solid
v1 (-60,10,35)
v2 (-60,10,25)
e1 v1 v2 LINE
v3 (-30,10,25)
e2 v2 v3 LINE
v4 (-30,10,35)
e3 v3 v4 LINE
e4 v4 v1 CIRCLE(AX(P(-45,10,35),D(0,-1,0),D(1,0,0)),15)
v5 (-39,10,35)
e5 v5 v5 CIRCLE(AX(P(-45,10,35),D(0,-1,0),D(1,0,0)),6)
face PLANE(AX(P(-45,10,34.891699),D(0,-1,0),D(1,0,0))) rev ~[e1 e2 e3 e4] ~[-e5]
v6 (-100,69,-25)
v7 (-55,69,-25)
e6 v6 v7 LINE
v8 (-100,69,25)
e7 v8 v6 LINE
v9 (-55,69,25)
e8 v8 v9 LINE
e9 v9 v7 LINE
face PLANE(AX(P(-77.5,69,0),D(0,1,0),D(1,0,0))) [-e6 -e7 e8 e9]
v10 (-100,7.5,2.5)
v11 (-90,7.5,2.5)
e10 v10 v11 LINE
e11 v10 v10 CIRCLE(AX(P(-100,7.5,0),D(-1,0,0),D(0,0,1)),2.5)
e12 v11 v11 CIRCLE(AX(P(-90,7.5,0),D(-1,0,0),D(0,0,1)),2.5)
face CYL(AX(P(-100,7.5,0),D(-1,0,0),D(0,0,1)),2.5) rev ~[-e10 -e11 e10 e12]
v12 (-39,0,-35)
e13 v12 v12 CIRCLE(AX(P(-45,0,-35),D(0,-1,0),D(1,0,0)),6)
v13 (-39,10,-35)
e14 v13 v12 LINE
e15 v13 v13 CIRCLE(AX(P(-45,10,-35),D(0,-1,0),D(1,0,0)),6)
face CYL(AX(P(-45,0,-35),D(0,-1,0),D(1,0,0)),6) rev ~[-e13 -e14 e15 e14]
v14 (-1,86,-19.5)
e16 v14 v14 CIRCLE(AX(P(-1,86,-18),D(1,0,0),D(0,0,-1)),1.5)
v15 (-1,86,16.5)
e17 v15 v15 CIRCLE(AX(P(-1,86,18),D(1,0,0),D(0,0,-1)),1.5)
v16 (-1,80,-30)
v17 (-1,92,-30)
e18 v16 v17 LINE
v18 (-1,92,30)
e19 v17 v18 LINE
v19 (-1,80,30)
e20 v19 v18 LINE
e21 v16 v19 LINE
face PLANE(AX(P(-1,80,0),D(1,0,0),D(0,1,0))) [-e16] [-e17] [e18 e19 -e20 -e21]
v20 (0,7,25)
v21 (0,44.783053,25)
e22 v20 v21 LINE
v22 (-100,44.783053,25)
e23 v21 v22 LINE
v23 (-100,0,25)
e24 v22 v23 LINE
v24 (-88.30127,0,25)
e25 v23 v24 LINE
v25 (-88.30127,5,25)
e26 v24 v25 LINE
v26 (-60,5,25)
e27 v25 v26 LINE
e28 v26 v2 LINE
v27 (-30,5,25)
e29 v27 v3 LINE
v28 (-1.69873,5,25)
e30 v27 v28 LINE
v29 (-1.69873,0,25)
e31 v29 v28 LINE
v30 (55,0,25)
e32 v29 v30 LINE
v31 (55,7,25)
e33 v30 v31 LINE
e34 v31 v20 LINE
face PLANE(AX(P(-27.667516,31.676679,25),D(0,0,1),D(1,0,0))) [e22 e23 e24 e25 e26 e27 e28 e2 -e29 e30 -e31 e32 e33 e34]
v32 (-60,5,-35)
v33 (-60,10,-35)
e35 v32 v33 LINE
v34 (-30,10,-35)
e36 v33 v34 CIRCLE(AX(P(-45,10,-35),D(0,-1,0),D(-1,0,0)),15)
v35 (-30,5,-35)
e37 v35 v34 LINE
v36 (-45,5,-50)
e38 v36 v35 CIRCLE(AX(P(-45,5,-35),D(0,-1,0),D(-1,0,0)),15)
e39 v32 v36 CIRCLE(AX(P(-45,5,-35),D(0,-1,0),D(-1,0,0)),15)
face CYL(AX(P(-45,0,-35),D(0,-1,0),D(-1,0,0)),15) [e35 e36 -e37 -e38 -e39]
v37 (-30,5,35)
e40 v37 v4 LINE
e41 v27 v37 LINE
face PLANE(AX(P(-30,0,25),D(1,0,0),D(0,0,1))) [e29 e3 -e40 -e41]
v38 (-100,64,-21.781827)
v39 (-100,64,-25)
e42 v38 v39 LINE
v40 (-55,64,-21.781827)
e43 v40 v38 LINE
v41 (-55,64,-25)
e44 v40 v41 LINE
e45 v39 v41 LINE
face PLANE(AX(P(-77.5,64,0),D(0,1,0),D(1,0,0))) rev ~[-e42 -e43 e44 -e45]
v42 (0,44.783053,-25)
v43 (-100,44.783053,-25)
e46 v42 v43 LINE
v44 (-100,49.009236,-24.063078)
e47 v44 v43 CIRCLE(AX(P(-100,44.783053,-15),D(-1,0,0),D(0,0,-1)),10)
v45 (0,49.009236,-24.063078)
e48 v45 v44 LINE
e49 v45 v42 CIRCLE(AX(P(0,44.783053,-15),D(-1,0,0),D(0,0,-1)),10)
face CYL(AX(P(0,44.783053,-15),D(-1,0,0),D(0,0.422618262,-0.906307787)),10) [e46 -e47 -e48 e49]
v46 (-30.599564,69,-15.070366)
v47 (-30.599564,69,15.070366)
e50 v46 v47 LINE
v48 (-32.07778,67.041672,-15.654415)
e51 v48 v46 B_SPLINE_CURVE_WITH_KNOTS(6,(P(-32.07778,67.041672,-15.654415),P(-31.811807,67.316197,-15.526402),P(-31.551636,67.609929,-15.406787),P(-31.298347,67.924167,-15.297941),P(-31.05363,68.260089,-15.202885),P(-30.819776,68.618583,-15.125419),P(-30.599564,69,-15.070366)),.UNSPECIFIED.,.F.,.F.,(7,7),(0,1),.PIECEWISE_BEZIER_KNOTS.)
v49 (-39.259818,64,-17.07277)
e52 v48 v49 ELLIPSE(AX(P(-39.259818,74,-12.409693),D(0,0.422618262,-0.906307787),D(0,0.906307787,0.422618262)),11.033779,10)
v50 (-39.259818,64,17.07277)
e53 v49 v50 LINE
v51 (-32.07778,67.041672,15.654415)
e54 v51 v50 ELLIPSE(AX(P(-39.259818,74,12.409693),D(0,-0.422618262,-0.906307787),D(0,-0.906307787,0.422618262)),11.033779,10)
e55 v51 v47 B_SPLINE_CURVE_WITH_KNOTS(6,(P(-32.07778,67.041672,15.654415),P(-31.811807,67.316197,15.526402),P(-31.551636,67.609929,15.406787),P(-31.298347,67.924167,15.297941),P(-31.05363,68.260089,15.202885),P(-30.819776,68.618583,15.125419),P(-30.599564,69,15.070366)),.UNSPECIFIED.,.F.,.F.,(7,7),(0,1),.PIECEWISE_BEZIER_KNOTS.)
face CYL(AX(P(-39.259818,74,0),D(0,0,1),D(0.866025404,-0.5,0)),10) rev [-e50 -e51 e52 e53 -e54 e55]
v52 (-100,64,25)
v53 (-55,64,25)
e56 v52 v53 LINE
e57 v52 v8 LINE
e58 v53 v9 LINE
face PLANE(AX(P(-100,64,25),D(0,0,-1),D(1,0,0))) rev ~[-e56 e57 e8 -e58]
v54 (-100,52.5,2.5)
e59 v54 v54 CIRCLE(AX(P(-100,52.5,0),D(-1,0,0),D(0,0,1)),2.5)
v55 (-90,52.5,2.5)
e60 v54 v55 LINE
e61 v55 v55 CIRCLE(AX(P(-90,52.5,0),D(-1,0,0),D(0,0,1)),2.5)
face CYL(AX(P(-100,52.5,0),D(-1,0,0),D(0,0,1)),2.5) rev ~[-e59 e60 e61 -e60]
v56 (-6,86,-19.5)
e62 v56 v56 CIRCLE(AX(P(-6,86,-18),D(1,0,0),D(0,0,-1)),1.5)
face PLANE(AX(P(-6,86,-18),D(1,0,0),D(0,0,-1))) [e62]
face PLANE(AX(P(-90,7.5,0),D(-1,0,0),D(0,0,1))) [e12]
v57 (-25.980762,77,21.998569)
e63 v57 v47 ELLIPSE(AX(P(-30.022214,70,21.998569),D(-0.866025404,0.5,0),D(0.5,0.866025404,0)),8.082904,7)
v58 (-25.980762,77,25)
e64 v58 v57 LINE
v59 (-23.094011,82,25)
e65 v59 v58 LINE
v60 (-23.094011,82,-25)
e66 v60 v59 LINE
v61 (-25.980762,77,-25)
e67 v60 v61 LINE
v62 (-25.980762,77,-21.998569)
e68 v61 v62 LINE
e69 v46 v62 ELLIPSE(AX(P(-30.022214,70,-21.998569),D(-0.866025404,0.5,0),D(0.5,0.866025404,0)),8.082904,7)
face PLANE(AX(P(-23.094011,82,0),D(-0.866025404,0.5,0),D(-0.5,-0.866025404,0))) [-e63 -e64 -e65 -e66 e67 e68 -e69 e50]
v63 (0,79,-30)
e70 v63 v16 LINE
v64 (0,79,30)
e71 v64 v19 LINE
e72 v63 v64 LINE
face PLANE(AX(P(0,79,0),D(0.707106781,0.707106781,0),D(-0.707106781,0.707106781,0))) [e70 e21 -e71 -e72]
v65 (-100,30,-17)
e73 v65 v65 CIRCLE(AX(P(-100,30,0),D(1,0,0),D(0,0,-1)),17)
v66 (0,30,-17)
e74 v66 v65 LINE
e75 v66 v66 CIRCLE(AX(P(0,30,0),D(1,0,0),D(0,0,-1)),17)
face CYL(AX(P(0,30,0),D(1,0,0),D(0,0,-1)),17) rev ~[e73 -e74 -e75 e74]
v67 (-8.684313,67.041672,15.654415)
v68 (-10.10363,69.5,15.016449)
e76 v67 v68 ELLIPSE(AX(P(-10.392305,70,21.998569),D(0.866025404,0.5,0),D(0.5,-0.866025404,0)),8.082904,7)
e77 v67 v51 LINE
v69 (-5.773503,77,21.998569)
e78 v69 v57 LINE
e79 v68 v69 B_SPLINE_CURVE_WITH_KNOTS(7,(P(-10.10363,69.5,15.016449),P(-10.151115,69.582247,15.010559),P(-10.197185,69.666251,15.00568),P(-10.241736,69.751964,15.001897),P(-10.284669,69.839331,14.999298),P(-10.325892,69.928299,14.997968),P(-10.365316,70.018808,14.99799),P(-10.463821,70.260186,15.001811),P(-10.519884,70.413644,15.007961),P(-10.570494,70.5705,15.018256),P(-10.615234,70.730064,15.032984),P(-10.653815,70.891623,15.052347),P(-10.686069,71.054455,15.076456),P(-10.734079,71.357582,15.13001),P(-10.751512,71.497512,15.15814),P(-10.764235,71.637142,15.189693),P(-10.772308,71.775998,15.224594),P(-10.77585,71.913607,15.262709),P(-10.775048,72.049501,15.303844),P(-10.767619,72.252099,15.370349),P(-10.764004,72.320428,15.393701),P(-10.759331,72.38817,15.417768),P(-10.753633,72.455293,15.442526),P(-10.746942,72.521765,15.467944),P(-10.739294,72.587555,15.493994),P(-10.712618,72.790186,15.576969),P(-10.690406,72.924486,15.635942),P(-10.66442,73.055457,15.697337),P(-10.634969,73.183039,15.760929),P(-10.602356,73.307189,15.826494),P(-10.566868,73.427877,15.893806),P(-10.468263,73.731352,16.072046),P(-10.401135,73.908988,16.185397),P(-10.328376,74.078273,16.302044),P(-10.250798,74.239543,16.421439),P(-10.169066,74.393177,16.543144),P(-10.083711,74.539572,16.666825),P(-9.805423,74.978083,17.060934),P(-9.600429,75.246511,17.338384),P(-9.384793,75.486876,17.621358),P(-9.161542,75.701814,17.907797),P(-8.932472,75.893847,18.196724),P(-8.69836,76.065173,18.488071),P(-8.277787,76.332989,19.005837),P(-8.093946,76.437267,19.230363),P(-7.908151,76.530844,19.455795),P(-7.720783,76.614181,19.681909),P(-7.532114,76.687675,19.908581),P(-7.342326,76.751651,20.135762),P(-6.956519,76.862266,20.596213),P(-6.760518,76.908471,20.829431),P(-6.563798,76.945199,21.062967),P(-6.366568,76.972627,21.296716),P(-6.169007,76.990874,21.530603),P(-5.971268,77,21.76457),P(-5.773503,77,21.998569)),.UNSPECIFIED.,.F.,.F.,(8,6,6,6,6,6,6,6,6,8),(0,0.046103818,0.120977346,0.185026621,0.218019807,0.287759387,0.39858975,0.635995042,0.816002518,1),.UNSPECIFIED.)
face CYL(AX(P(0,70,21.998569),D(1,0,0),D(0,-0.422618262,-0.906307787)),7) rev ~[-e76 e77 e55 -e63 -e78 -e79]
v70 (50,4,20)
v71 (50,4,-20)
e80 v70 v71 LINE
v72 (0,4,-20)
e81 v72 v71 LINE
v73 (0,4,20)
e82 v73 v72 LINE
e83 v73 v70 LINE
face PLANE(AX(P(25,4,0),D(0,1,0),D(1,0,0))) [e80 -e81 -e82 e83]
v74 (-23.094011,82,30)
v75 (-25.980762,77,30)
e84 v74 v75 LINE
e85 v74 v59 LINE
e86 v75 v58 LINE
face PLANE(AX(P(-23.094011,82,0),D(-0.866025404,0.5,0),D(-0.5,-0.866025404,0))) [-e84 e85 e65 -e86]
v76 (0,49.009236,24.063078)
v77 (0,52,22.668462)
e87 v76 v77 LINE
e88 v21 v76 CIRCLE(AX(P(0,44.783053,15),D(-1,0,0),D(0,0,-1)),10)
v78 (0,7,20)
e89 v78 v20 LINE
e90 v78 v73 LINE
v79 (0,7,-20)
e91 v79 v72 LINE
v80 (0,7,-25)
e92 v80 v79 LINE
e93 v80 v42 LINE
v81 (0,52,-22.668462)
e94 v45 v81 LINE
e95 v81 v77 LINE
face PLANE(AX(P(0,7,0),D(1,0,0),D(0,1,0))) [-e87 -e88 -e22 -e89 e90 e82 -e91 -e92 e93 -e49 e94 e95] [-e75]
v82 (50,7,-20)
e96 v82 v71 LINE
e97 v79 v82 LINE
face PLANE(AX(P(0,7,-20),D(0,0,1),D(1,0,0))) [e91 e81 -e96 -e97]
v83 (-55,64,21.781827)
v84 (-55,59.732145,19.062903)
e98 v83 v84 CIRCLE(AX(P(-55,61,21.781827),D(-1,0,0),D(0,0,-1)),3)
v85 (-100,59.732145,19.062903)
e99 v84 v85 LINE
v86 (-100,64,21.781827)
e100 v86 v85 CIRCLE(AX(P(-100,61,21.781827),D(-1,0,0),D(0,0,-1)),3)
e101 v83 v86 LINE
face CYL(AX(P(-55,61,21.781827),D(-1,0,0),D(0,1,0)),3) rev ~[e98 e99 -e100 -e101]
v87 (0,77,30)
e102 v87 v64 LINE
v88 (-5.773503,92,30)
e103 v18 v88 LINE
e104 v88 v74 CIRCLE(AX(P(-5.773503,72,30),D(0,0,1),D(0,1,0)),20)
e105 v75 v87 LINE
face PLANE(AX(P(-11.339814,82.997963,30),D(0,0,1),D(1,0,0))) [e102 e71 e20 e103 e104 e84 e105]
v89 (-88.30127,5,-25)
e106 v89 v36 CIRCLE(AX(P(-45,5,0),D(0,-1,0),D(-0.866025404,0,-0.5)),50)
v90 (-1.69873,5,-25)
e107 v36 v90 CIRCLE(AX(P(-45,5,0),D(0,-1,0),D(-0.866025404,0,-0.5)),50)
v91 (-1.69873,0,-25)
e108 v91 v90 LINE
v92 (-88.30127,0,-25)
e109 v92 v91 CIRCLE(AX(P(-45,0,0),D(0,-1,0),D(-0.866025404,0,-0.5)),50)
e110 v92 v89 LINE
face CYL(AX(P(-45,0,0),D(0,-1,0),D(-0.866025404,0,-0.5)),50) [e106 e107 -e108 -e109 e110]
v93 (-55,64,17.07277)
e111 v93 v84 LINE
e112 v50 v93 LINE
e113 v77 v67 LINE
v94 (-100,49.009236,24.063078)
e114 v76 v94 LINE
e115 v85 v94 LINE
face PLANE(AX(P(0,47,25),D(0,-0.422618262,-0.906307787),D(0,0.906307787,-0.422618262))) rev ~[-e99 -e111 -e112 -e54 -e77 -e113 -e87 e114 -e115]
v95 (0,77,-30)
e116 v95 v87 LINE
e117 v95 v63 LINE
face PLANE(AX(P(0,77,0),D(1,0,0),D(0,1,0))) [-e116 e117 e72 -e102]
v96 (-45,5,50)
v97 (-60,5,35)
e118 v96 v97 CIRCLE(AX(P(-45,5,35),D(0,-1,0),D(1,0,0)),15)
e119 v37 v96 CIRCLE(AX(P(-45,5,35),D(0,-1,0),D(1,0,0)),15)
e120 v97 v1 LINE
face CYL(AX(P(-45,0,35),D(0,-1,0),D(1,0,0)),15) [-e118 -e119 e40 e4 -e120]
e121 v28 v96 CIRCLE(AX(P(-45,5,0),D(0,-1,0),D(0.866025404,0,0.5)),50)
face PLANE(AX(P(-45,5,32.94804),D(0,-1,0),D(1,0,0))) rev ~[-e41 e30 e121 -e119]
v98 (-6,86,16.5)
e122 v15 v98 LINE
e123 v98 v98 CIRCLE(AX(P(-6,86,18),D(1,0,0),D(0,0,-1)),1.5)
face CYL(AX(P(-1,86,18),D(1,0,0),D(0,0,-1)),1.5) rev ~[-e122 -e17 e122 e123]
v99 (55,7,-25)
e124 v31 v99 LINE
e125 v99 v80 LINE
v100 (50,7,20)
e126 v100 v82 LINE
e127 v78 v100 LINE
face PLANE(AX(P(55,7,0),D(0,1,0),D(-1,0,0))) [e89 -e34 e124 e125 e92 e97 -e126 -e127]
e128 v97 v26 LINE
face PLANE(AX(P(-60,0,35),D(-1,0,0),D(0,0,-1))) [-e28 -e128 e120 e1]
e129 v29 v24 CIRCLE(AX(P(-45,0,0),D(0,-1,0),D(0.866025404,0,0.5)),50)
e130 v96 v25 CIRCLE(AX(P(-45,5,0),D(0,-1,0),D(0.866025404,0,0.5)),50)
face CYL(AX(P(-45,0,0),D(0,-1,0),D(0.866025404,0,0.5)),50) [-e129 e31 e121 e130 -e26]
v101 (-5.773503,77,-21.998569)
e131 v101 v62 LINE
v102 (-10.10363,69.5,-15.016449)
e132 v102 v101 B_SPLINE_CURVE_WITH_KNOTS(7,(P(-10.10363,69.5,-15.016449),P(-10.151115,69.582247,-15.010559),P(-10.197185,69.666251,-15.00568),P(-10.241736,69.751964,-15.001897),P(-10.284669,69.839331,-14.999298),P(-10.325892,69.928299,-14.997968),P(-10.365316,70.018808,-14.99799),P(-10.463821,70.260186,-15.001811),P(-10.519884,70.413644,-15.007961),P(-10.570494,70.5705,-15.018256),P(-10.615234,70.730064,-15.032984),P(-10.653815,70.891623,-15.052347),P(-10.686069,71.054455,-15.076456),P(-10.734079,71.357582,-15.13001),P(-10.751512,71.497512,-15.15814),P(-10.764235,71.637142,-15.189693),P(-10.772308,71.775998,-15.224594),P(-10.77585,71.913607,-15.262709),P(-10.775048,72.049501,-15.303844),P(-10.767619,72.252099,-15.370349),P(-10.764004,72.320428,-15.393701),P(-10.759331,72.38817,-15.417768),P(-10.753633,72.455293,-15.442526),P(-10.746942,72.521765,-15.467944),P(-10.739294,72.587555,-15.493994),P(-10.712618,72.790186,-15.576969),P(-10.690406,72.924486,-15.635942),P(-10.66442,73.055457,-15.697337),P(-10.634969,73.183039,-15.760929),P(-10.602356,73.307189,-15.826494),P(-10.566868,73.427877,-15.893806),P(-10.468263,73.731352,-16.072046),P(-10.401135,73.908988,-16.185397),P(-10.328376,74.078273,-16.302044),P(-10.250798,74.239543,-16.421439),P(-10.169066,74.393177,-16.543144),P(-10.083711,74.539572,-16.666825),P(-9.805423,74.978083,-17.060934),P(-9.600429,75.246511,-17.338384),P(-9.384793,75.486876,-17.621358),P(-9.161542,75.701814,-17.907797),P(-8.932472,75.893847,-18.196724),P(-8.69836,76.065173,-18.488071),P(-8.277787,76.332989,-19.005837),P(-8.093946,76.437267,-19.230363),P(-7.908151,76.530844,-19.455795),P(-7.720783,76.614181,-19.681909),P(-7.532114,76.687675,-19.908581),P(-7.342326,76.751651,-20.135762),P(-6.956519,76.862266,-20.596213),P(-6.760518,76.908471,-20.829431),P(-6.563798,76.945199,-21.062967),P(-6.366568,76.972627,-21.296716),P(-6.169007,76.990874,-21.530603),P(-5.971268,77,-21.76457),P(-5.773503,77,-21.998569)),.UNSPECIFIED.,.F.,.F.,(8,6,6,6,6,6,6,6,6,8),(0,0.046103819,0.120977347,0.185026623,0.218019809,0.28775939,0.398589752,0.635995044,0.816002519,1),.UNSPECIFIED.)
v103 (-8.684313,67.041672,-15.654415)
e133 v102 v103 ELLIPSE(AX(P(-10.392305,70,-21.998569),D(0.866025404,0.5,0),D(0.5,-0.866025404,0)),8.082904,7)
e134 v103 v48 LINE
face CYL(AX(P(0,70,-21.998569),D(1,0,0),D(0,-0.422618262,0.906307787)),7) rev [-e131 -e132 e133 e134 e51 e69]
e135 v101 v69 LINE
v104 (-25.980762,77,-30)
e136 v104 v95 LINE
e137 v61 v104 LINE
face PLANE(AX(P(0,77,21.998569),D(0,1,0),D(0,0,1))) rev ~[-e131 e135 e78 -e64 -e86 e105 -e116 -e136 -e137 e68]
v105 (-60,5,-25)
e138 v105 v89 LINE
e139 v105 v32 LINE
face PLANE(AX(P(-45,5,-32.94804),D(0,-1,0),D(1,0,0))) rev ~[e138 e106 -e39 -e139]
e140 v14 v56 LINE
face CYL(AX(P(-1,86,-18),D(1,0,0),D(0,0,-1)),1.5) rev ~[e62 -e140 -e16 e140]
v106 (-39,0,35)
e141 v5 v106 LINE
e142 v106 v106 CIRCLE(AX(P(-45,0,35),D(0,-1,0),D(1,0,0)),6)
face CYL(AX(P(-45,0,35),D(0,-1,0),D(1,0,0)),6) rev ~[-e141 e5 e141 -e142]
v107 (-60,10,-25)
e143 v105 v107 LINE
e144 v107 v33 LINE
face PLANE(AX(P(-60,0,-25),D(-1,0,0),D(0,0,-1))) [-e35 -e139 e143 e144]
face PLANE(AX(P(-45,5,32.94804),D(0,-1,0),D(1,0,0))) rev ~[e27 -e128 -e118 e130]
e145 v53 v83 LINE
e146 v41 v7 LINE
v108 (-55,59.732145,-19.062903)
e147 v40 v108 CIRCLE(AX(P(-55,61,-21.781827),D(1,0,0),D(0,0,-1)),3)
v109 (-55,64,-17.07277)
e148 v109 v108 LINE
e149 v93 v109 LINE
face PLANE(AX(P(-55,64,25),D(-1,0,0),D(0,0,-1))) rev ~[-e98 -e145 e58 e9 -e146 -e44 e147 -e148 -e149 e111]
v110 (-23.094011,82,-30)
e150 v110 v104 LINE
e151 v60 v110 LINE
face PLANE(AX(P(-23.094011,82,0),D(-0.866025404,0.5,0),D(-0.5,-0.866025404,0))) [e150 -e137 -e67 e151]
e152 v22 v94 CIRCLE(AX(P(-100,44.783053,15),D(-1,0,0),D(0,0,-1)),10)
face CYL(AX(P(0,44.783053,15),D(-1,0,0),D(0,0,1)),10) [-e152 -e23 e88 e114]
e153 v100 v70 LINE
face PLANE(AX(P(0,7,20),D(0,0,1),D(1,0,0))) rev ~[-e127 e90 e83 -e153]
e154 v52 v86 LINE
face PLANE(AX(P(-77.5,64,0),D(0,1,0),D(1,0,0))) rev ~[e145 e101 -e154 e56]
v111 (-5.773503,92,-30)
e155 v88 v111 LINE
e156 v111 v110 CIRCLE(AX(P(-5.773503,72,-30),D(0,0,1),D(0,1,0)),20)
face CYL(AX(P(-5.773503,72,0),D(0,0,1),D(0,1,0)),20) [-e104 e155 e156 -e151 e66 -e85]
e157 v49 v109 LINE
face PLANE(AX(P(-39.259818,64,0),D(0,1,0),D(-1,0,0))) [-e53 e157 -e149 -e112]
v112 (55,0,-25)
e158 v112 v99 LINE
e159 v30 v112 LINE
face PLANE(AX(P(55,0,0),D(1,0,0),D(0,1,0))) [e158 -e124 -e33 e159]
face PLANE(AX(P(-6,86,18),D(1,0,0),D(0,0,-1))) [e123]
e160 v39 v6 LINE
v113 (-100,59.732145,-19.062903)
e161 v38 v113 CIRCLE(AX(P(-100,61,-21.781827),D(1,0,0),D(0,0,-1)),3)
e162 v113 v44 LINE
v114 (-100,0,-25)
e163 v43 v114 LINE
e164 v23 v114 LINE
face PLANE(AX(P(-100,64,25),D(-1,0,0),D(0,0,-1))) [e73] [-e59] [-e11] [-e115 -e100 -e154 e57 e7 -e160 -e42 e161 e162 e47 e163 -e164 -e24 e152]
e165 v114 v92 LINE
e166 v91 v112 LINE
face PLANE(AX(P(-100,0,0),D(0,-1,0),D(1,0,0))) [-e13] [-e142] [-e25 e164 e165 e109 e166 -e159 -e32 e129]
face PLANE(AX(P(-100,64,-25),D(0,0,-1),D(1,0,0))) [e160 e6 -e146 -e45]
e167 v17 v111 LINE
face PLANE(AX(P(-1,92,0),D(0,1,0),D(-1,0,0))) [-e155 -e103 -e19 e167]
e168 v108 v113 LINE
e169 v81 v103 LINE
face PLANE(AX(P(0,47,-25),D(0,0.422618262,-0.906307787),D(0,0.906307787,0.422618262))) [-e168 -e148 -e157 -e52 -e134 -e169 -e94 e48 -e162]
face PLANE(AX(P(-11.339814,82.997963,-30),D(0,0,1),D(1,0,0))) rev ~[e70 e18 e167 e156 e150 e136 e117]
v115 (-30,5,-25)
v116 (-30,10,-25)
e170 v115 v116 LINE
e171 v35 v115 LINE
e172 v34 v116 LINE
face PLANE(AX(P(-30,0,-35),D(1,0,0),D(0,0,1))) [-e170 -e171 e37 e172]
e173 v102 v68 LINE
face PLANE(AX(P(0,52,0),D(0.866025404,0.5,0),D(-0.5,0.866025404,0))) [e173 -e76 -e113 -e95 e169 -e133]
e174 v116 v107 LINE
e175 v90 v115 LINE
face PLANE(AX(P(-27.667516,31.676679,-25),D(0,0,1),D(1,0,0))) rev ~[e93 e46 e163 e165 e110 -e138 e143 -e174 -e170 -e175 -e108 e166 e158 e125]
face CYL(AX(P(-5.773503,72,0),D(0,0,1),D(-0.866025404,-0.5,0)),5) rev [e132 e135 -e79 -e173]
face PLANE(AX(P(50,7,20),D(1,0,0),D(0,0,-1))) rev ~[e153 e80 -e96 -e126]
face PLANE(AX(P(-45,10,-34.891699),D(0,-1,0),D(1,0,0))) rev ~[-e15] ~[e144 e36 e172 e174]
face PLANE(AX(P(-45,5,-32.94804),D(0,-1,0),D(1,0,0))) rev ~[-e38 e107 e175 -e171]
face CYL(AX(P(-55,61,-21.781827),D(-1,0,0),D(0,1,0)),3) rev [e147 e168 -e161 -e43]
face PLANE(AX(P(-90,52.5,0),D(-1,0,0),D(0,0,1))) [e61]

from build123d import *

# Parameters (mm, degrees)
BOSS_EXTRUDE1_DEPTH = 25
SKETCH3_W           = 50
SKETCH3_H           = 40
CUT_EXTRUDE1_DEPTH  = 3
BOSS_EXTRUDE5_DEPTH = 30
SKETCH4_R           = 1.5
CUT_EXTRUDE2_DEPTH  = 5
SKETCH5_R           = 17
CUT_EXTRUDE3_DEPTH  = 140.154590294
SKETCH6_R           = 2.5
CUT_EXTRUDE4_DEPTH  = 10
SKETCH8_R           = 6
BOSS_EXTRUDE2_DEPTH = 5
SKETCH8_3_R         = 6
BOSS_EXTRUDE3_DEPTH = 10
CUT_EXTRUDE5_DEPTH  = 145.789502382
SKETCH10_W          = 45
SKETCH10_H          = 50
BOSS_EXTRUDE4_DEPTH = 5
FILLET1_R           = 3
FILLET2_R           = 10


with BuildPart() as part:
    # Sketch2 → Boss-Extrude1 (new, symmetric)
    with BuildSketch(Plane.XY):
        with BuildLine():
            Line((55, 7), (0, 7))
            Line((0, 7), (0, 52))
            Line((0, 52), (-10.103629711, 69.5))
            ThreePointArc((-10.103629711, 69.5), (-10.103629711, 74.5), (-5.773502692, 77))
            Line((-5.773502692, 77), (0, 77))
            Line((0, 77), (0, 79))
            Line((0, 79), (-1, 80))
            Line((-1, 80), (-1, 92))
            Line((-1, 92), (-5.773502692, 92))
            ThreePointArc((-5.773502692, 92), (-15.773502692, 89.320508076), (-23.094010768, 82))
            Line((-23.094010768, 82), (-30.599564267, 69))
            ThreePointArc((-30.599564267, 69), (-34.259818305, 65.339745962), (-39.259818305, 64))
            Line((-39.259818305, 64), (-100, 64))
            Line((-100, 64), (-100, 0))
            Line((-100, 0), (55, 0))
            Line((55, 0), (55, 7))
        make_face()
    extrude(amount=BOSS_EXTRUDE1_DEPTH, both=True)

    # Sketch3 → Cut-Extrude1 (cut)
    with BuildSketch(Plane(origin=(0, 7, 0), x_dir=(1, 0, 0), z_dir=(0, 1, 0))):
        with Locations((25, 0)):
            Rectangle(SKETCH3_W, SKETCH3_H)
    extrude(amount=-CUT_EXTRUDE1_DEPTH, mode=Mode.SUBTRACT)

    # Sketch2<4> → Boss-Extrude5 (add, symmetric)
    with BuildSketch(Plane.XY):
        with BuildLine():
            Line((-25.980762114, 77), (-5.773502692, 77))
            Line((-5.773502692, 77), (0, 77))
            Line((0, 77), (0, 79))
            Line((0, 79), (-1, 80))
            Line((-1, 80), (-1, 92))
            Line((-1, 92), (-5.773502692, 92))
            ThreePointArc((-5.773502692, 92), (-15.773502692, 89.320508076), (-23.094010768, 82))
            Line((-23.094010768, 82), (-25.980762114, 77))
        make_face()
    extrude(amount=BOSS_EXTRUDE5_DEPTH, both=True)

    # Sketch4 → Cut-Extrude2 (cut)
    with BuildSketch(Plane(origin=(-1, 0, 0), x_dir=(0, 0, -1), z_dir=(1, 0, 0))):
        with Locations((-18, 86)):
            Circle(SKETCH4_R)
        with Locations((18, 86)):
            Circle(SKETCH4_R)
    extrude(amount=-CUT_EXTRUDE2_DEPTH, mode=Mode.SUBTRACT)

    # Sketch5 → Cut-Extrude3 (cut, through all)
    with BuildSketch(Plane(origin=(0, 0, 0), x_dir=(0, 0, -1), z_dir=(1, 0, 0))):
        with Locations((0, 30)):
            Circle(SKETCH5_R)
    extrude(amount=-CUT_EXTRUDE3_DEPTH, mode=Mode.SUBTRACT)

    # Sketch6 → Cut-Extrude4 (cut)
    with BuildSketch(Plane.ZY.offset(100)):
        with Locations((0, 52.5)):
            Circle(SKETCH6_R)
        with Locations((0, 7.5)):
            Circle(SKETCH6_R)
    extrude(amount=-CUT_EXTRUDE4_DEPTH, mode=Mode.SUBTRACT)

    # Sketch8 → Boss-Extrude2 (add)
    # profile 1 of 2: a face of its own
    with BuildSketch(Plane.XZ):
        with BuildLine():
            Line((-88.301270189, 25), (-1.698729811, 25))
            ThreePointArc((-1.698729811, 25), (-45, 50), (-88.301270189, 25))
        make_face()
        with Locations((-45, 35)):
            Circle(SKETCH8_R, mode=Mode.SUBTRACT)
    # profile 2 of 2: a face of its own
    with BuildSketch(Plane.XZ):
        with BuildLine():
            ThreePointArc((-88.301270189, -25), (-45, -50), (-1.698729811, -25))
            Line((-1.698729811, -25), (-88.301270189, -25))
        make_face()
        with Locations((-45, -35)):
            Circle(SKETCH8_R, mode=Mode.SUBTRACT)
    extrude(amount=-BOSS_EXTRUDE2_DEPTH)

    # Sketch8<3> → Boss-Extrude3 (add)
    # profile 1 of 2: a face of its own
    with BuildSketch(Plane.XZ):
        with BuildLine():
            Line((-60, 35), (-60, 25))
            Line((-60, 25), (-30, 25))
            Line((-30, 25), (-30, 35))
            ThreePointArc((-30, 35), (-45, 50), (-60, 35))
        make_face()
        with Locations((-45, 35)):
            Circle(SKETCH8_3_R, mode=Mode.SUBTRACT)
    # profile 2 of 2: a face of its own
    with BuildSketch(Plane.XZ):
        with BuildLine():
            Line((-30, -25), (-60, -25))
            Line((-60, -25), (-60, -35))
            ThreePointArc((-60, -35), (-45, -50), (-30, -35))
            Line((-30, -35), (-30, -25))
        make_face()
        with Locations((-45, -35)):
            Circle(SKETCH8_3_R, mode=Mode.SUBTRACT)
    extrude(amount=-BOSS_EXTRUDE3_DEPTH)

    # Sketch12 → Cut-Extrude5 (cut, through all)
    with BuildSketch(Plane(origin=(0, 0, 0), x_dir=(0, 0, -1), z_dir=(1, 0, 0))):
        with BuildLine():
            Line((25, 47), (15.654414786, 67.041672168))
            ThreePointArc((15.654414786, 67.041672168), (16.094829174, 73.761097258), (21.998569295, 77))
            Line((21.998569295, 77), (25, 77))
            Line((25, 77), (25, 47))
        make_face()
        with BuildLine():
            Line((-25, 77), (-25, 47))
            Line((-25, 47), (-15.654414786, 67.041672168))
            ThreePointArc((-15.654414786, 67.041672168), (-16.094829174, 73.761097258), (-21.998569295, 77))
            Line((-21.998569295, 77), (-25, 77))
        make_face()
    extrude(amount=-CUT_EXTRUDE5_DEPTH, mode=Mode.SUBTRACT)

    # Sketch10 → Boss-Extrude4 (add)
    with BuildSketch(Plane(origin=(0, 64, 0), x_dir=(1, 0, 0), z_dir=(0, 1, 0))):
        with Locations((-77.5, 0)):
            Rectangle(SKETCH10_W, SKETCH10_H)
    extrude(amount=BOSS_EXTRUDE4_DEPTH)

    # Fillet1
    fillet1_edges = [part.edges().sort_by_distance(p)[0] for p in [
        (-77.5, 64, -17.072769811),
        (-77.5, 64, 17.072769811),
    ]]
    fillet(fillet1_edges, radius=FILLET1_R)

    # Fillet2
    fillet2_edges = [part.edges().sort_by_distance(p)[0] for p in [
        (-50, 47, -25),
        (-50, 47, 25),
    ]]
    fillet(fillet2_edges, radius=FILLET2_R)


solid = part.part
